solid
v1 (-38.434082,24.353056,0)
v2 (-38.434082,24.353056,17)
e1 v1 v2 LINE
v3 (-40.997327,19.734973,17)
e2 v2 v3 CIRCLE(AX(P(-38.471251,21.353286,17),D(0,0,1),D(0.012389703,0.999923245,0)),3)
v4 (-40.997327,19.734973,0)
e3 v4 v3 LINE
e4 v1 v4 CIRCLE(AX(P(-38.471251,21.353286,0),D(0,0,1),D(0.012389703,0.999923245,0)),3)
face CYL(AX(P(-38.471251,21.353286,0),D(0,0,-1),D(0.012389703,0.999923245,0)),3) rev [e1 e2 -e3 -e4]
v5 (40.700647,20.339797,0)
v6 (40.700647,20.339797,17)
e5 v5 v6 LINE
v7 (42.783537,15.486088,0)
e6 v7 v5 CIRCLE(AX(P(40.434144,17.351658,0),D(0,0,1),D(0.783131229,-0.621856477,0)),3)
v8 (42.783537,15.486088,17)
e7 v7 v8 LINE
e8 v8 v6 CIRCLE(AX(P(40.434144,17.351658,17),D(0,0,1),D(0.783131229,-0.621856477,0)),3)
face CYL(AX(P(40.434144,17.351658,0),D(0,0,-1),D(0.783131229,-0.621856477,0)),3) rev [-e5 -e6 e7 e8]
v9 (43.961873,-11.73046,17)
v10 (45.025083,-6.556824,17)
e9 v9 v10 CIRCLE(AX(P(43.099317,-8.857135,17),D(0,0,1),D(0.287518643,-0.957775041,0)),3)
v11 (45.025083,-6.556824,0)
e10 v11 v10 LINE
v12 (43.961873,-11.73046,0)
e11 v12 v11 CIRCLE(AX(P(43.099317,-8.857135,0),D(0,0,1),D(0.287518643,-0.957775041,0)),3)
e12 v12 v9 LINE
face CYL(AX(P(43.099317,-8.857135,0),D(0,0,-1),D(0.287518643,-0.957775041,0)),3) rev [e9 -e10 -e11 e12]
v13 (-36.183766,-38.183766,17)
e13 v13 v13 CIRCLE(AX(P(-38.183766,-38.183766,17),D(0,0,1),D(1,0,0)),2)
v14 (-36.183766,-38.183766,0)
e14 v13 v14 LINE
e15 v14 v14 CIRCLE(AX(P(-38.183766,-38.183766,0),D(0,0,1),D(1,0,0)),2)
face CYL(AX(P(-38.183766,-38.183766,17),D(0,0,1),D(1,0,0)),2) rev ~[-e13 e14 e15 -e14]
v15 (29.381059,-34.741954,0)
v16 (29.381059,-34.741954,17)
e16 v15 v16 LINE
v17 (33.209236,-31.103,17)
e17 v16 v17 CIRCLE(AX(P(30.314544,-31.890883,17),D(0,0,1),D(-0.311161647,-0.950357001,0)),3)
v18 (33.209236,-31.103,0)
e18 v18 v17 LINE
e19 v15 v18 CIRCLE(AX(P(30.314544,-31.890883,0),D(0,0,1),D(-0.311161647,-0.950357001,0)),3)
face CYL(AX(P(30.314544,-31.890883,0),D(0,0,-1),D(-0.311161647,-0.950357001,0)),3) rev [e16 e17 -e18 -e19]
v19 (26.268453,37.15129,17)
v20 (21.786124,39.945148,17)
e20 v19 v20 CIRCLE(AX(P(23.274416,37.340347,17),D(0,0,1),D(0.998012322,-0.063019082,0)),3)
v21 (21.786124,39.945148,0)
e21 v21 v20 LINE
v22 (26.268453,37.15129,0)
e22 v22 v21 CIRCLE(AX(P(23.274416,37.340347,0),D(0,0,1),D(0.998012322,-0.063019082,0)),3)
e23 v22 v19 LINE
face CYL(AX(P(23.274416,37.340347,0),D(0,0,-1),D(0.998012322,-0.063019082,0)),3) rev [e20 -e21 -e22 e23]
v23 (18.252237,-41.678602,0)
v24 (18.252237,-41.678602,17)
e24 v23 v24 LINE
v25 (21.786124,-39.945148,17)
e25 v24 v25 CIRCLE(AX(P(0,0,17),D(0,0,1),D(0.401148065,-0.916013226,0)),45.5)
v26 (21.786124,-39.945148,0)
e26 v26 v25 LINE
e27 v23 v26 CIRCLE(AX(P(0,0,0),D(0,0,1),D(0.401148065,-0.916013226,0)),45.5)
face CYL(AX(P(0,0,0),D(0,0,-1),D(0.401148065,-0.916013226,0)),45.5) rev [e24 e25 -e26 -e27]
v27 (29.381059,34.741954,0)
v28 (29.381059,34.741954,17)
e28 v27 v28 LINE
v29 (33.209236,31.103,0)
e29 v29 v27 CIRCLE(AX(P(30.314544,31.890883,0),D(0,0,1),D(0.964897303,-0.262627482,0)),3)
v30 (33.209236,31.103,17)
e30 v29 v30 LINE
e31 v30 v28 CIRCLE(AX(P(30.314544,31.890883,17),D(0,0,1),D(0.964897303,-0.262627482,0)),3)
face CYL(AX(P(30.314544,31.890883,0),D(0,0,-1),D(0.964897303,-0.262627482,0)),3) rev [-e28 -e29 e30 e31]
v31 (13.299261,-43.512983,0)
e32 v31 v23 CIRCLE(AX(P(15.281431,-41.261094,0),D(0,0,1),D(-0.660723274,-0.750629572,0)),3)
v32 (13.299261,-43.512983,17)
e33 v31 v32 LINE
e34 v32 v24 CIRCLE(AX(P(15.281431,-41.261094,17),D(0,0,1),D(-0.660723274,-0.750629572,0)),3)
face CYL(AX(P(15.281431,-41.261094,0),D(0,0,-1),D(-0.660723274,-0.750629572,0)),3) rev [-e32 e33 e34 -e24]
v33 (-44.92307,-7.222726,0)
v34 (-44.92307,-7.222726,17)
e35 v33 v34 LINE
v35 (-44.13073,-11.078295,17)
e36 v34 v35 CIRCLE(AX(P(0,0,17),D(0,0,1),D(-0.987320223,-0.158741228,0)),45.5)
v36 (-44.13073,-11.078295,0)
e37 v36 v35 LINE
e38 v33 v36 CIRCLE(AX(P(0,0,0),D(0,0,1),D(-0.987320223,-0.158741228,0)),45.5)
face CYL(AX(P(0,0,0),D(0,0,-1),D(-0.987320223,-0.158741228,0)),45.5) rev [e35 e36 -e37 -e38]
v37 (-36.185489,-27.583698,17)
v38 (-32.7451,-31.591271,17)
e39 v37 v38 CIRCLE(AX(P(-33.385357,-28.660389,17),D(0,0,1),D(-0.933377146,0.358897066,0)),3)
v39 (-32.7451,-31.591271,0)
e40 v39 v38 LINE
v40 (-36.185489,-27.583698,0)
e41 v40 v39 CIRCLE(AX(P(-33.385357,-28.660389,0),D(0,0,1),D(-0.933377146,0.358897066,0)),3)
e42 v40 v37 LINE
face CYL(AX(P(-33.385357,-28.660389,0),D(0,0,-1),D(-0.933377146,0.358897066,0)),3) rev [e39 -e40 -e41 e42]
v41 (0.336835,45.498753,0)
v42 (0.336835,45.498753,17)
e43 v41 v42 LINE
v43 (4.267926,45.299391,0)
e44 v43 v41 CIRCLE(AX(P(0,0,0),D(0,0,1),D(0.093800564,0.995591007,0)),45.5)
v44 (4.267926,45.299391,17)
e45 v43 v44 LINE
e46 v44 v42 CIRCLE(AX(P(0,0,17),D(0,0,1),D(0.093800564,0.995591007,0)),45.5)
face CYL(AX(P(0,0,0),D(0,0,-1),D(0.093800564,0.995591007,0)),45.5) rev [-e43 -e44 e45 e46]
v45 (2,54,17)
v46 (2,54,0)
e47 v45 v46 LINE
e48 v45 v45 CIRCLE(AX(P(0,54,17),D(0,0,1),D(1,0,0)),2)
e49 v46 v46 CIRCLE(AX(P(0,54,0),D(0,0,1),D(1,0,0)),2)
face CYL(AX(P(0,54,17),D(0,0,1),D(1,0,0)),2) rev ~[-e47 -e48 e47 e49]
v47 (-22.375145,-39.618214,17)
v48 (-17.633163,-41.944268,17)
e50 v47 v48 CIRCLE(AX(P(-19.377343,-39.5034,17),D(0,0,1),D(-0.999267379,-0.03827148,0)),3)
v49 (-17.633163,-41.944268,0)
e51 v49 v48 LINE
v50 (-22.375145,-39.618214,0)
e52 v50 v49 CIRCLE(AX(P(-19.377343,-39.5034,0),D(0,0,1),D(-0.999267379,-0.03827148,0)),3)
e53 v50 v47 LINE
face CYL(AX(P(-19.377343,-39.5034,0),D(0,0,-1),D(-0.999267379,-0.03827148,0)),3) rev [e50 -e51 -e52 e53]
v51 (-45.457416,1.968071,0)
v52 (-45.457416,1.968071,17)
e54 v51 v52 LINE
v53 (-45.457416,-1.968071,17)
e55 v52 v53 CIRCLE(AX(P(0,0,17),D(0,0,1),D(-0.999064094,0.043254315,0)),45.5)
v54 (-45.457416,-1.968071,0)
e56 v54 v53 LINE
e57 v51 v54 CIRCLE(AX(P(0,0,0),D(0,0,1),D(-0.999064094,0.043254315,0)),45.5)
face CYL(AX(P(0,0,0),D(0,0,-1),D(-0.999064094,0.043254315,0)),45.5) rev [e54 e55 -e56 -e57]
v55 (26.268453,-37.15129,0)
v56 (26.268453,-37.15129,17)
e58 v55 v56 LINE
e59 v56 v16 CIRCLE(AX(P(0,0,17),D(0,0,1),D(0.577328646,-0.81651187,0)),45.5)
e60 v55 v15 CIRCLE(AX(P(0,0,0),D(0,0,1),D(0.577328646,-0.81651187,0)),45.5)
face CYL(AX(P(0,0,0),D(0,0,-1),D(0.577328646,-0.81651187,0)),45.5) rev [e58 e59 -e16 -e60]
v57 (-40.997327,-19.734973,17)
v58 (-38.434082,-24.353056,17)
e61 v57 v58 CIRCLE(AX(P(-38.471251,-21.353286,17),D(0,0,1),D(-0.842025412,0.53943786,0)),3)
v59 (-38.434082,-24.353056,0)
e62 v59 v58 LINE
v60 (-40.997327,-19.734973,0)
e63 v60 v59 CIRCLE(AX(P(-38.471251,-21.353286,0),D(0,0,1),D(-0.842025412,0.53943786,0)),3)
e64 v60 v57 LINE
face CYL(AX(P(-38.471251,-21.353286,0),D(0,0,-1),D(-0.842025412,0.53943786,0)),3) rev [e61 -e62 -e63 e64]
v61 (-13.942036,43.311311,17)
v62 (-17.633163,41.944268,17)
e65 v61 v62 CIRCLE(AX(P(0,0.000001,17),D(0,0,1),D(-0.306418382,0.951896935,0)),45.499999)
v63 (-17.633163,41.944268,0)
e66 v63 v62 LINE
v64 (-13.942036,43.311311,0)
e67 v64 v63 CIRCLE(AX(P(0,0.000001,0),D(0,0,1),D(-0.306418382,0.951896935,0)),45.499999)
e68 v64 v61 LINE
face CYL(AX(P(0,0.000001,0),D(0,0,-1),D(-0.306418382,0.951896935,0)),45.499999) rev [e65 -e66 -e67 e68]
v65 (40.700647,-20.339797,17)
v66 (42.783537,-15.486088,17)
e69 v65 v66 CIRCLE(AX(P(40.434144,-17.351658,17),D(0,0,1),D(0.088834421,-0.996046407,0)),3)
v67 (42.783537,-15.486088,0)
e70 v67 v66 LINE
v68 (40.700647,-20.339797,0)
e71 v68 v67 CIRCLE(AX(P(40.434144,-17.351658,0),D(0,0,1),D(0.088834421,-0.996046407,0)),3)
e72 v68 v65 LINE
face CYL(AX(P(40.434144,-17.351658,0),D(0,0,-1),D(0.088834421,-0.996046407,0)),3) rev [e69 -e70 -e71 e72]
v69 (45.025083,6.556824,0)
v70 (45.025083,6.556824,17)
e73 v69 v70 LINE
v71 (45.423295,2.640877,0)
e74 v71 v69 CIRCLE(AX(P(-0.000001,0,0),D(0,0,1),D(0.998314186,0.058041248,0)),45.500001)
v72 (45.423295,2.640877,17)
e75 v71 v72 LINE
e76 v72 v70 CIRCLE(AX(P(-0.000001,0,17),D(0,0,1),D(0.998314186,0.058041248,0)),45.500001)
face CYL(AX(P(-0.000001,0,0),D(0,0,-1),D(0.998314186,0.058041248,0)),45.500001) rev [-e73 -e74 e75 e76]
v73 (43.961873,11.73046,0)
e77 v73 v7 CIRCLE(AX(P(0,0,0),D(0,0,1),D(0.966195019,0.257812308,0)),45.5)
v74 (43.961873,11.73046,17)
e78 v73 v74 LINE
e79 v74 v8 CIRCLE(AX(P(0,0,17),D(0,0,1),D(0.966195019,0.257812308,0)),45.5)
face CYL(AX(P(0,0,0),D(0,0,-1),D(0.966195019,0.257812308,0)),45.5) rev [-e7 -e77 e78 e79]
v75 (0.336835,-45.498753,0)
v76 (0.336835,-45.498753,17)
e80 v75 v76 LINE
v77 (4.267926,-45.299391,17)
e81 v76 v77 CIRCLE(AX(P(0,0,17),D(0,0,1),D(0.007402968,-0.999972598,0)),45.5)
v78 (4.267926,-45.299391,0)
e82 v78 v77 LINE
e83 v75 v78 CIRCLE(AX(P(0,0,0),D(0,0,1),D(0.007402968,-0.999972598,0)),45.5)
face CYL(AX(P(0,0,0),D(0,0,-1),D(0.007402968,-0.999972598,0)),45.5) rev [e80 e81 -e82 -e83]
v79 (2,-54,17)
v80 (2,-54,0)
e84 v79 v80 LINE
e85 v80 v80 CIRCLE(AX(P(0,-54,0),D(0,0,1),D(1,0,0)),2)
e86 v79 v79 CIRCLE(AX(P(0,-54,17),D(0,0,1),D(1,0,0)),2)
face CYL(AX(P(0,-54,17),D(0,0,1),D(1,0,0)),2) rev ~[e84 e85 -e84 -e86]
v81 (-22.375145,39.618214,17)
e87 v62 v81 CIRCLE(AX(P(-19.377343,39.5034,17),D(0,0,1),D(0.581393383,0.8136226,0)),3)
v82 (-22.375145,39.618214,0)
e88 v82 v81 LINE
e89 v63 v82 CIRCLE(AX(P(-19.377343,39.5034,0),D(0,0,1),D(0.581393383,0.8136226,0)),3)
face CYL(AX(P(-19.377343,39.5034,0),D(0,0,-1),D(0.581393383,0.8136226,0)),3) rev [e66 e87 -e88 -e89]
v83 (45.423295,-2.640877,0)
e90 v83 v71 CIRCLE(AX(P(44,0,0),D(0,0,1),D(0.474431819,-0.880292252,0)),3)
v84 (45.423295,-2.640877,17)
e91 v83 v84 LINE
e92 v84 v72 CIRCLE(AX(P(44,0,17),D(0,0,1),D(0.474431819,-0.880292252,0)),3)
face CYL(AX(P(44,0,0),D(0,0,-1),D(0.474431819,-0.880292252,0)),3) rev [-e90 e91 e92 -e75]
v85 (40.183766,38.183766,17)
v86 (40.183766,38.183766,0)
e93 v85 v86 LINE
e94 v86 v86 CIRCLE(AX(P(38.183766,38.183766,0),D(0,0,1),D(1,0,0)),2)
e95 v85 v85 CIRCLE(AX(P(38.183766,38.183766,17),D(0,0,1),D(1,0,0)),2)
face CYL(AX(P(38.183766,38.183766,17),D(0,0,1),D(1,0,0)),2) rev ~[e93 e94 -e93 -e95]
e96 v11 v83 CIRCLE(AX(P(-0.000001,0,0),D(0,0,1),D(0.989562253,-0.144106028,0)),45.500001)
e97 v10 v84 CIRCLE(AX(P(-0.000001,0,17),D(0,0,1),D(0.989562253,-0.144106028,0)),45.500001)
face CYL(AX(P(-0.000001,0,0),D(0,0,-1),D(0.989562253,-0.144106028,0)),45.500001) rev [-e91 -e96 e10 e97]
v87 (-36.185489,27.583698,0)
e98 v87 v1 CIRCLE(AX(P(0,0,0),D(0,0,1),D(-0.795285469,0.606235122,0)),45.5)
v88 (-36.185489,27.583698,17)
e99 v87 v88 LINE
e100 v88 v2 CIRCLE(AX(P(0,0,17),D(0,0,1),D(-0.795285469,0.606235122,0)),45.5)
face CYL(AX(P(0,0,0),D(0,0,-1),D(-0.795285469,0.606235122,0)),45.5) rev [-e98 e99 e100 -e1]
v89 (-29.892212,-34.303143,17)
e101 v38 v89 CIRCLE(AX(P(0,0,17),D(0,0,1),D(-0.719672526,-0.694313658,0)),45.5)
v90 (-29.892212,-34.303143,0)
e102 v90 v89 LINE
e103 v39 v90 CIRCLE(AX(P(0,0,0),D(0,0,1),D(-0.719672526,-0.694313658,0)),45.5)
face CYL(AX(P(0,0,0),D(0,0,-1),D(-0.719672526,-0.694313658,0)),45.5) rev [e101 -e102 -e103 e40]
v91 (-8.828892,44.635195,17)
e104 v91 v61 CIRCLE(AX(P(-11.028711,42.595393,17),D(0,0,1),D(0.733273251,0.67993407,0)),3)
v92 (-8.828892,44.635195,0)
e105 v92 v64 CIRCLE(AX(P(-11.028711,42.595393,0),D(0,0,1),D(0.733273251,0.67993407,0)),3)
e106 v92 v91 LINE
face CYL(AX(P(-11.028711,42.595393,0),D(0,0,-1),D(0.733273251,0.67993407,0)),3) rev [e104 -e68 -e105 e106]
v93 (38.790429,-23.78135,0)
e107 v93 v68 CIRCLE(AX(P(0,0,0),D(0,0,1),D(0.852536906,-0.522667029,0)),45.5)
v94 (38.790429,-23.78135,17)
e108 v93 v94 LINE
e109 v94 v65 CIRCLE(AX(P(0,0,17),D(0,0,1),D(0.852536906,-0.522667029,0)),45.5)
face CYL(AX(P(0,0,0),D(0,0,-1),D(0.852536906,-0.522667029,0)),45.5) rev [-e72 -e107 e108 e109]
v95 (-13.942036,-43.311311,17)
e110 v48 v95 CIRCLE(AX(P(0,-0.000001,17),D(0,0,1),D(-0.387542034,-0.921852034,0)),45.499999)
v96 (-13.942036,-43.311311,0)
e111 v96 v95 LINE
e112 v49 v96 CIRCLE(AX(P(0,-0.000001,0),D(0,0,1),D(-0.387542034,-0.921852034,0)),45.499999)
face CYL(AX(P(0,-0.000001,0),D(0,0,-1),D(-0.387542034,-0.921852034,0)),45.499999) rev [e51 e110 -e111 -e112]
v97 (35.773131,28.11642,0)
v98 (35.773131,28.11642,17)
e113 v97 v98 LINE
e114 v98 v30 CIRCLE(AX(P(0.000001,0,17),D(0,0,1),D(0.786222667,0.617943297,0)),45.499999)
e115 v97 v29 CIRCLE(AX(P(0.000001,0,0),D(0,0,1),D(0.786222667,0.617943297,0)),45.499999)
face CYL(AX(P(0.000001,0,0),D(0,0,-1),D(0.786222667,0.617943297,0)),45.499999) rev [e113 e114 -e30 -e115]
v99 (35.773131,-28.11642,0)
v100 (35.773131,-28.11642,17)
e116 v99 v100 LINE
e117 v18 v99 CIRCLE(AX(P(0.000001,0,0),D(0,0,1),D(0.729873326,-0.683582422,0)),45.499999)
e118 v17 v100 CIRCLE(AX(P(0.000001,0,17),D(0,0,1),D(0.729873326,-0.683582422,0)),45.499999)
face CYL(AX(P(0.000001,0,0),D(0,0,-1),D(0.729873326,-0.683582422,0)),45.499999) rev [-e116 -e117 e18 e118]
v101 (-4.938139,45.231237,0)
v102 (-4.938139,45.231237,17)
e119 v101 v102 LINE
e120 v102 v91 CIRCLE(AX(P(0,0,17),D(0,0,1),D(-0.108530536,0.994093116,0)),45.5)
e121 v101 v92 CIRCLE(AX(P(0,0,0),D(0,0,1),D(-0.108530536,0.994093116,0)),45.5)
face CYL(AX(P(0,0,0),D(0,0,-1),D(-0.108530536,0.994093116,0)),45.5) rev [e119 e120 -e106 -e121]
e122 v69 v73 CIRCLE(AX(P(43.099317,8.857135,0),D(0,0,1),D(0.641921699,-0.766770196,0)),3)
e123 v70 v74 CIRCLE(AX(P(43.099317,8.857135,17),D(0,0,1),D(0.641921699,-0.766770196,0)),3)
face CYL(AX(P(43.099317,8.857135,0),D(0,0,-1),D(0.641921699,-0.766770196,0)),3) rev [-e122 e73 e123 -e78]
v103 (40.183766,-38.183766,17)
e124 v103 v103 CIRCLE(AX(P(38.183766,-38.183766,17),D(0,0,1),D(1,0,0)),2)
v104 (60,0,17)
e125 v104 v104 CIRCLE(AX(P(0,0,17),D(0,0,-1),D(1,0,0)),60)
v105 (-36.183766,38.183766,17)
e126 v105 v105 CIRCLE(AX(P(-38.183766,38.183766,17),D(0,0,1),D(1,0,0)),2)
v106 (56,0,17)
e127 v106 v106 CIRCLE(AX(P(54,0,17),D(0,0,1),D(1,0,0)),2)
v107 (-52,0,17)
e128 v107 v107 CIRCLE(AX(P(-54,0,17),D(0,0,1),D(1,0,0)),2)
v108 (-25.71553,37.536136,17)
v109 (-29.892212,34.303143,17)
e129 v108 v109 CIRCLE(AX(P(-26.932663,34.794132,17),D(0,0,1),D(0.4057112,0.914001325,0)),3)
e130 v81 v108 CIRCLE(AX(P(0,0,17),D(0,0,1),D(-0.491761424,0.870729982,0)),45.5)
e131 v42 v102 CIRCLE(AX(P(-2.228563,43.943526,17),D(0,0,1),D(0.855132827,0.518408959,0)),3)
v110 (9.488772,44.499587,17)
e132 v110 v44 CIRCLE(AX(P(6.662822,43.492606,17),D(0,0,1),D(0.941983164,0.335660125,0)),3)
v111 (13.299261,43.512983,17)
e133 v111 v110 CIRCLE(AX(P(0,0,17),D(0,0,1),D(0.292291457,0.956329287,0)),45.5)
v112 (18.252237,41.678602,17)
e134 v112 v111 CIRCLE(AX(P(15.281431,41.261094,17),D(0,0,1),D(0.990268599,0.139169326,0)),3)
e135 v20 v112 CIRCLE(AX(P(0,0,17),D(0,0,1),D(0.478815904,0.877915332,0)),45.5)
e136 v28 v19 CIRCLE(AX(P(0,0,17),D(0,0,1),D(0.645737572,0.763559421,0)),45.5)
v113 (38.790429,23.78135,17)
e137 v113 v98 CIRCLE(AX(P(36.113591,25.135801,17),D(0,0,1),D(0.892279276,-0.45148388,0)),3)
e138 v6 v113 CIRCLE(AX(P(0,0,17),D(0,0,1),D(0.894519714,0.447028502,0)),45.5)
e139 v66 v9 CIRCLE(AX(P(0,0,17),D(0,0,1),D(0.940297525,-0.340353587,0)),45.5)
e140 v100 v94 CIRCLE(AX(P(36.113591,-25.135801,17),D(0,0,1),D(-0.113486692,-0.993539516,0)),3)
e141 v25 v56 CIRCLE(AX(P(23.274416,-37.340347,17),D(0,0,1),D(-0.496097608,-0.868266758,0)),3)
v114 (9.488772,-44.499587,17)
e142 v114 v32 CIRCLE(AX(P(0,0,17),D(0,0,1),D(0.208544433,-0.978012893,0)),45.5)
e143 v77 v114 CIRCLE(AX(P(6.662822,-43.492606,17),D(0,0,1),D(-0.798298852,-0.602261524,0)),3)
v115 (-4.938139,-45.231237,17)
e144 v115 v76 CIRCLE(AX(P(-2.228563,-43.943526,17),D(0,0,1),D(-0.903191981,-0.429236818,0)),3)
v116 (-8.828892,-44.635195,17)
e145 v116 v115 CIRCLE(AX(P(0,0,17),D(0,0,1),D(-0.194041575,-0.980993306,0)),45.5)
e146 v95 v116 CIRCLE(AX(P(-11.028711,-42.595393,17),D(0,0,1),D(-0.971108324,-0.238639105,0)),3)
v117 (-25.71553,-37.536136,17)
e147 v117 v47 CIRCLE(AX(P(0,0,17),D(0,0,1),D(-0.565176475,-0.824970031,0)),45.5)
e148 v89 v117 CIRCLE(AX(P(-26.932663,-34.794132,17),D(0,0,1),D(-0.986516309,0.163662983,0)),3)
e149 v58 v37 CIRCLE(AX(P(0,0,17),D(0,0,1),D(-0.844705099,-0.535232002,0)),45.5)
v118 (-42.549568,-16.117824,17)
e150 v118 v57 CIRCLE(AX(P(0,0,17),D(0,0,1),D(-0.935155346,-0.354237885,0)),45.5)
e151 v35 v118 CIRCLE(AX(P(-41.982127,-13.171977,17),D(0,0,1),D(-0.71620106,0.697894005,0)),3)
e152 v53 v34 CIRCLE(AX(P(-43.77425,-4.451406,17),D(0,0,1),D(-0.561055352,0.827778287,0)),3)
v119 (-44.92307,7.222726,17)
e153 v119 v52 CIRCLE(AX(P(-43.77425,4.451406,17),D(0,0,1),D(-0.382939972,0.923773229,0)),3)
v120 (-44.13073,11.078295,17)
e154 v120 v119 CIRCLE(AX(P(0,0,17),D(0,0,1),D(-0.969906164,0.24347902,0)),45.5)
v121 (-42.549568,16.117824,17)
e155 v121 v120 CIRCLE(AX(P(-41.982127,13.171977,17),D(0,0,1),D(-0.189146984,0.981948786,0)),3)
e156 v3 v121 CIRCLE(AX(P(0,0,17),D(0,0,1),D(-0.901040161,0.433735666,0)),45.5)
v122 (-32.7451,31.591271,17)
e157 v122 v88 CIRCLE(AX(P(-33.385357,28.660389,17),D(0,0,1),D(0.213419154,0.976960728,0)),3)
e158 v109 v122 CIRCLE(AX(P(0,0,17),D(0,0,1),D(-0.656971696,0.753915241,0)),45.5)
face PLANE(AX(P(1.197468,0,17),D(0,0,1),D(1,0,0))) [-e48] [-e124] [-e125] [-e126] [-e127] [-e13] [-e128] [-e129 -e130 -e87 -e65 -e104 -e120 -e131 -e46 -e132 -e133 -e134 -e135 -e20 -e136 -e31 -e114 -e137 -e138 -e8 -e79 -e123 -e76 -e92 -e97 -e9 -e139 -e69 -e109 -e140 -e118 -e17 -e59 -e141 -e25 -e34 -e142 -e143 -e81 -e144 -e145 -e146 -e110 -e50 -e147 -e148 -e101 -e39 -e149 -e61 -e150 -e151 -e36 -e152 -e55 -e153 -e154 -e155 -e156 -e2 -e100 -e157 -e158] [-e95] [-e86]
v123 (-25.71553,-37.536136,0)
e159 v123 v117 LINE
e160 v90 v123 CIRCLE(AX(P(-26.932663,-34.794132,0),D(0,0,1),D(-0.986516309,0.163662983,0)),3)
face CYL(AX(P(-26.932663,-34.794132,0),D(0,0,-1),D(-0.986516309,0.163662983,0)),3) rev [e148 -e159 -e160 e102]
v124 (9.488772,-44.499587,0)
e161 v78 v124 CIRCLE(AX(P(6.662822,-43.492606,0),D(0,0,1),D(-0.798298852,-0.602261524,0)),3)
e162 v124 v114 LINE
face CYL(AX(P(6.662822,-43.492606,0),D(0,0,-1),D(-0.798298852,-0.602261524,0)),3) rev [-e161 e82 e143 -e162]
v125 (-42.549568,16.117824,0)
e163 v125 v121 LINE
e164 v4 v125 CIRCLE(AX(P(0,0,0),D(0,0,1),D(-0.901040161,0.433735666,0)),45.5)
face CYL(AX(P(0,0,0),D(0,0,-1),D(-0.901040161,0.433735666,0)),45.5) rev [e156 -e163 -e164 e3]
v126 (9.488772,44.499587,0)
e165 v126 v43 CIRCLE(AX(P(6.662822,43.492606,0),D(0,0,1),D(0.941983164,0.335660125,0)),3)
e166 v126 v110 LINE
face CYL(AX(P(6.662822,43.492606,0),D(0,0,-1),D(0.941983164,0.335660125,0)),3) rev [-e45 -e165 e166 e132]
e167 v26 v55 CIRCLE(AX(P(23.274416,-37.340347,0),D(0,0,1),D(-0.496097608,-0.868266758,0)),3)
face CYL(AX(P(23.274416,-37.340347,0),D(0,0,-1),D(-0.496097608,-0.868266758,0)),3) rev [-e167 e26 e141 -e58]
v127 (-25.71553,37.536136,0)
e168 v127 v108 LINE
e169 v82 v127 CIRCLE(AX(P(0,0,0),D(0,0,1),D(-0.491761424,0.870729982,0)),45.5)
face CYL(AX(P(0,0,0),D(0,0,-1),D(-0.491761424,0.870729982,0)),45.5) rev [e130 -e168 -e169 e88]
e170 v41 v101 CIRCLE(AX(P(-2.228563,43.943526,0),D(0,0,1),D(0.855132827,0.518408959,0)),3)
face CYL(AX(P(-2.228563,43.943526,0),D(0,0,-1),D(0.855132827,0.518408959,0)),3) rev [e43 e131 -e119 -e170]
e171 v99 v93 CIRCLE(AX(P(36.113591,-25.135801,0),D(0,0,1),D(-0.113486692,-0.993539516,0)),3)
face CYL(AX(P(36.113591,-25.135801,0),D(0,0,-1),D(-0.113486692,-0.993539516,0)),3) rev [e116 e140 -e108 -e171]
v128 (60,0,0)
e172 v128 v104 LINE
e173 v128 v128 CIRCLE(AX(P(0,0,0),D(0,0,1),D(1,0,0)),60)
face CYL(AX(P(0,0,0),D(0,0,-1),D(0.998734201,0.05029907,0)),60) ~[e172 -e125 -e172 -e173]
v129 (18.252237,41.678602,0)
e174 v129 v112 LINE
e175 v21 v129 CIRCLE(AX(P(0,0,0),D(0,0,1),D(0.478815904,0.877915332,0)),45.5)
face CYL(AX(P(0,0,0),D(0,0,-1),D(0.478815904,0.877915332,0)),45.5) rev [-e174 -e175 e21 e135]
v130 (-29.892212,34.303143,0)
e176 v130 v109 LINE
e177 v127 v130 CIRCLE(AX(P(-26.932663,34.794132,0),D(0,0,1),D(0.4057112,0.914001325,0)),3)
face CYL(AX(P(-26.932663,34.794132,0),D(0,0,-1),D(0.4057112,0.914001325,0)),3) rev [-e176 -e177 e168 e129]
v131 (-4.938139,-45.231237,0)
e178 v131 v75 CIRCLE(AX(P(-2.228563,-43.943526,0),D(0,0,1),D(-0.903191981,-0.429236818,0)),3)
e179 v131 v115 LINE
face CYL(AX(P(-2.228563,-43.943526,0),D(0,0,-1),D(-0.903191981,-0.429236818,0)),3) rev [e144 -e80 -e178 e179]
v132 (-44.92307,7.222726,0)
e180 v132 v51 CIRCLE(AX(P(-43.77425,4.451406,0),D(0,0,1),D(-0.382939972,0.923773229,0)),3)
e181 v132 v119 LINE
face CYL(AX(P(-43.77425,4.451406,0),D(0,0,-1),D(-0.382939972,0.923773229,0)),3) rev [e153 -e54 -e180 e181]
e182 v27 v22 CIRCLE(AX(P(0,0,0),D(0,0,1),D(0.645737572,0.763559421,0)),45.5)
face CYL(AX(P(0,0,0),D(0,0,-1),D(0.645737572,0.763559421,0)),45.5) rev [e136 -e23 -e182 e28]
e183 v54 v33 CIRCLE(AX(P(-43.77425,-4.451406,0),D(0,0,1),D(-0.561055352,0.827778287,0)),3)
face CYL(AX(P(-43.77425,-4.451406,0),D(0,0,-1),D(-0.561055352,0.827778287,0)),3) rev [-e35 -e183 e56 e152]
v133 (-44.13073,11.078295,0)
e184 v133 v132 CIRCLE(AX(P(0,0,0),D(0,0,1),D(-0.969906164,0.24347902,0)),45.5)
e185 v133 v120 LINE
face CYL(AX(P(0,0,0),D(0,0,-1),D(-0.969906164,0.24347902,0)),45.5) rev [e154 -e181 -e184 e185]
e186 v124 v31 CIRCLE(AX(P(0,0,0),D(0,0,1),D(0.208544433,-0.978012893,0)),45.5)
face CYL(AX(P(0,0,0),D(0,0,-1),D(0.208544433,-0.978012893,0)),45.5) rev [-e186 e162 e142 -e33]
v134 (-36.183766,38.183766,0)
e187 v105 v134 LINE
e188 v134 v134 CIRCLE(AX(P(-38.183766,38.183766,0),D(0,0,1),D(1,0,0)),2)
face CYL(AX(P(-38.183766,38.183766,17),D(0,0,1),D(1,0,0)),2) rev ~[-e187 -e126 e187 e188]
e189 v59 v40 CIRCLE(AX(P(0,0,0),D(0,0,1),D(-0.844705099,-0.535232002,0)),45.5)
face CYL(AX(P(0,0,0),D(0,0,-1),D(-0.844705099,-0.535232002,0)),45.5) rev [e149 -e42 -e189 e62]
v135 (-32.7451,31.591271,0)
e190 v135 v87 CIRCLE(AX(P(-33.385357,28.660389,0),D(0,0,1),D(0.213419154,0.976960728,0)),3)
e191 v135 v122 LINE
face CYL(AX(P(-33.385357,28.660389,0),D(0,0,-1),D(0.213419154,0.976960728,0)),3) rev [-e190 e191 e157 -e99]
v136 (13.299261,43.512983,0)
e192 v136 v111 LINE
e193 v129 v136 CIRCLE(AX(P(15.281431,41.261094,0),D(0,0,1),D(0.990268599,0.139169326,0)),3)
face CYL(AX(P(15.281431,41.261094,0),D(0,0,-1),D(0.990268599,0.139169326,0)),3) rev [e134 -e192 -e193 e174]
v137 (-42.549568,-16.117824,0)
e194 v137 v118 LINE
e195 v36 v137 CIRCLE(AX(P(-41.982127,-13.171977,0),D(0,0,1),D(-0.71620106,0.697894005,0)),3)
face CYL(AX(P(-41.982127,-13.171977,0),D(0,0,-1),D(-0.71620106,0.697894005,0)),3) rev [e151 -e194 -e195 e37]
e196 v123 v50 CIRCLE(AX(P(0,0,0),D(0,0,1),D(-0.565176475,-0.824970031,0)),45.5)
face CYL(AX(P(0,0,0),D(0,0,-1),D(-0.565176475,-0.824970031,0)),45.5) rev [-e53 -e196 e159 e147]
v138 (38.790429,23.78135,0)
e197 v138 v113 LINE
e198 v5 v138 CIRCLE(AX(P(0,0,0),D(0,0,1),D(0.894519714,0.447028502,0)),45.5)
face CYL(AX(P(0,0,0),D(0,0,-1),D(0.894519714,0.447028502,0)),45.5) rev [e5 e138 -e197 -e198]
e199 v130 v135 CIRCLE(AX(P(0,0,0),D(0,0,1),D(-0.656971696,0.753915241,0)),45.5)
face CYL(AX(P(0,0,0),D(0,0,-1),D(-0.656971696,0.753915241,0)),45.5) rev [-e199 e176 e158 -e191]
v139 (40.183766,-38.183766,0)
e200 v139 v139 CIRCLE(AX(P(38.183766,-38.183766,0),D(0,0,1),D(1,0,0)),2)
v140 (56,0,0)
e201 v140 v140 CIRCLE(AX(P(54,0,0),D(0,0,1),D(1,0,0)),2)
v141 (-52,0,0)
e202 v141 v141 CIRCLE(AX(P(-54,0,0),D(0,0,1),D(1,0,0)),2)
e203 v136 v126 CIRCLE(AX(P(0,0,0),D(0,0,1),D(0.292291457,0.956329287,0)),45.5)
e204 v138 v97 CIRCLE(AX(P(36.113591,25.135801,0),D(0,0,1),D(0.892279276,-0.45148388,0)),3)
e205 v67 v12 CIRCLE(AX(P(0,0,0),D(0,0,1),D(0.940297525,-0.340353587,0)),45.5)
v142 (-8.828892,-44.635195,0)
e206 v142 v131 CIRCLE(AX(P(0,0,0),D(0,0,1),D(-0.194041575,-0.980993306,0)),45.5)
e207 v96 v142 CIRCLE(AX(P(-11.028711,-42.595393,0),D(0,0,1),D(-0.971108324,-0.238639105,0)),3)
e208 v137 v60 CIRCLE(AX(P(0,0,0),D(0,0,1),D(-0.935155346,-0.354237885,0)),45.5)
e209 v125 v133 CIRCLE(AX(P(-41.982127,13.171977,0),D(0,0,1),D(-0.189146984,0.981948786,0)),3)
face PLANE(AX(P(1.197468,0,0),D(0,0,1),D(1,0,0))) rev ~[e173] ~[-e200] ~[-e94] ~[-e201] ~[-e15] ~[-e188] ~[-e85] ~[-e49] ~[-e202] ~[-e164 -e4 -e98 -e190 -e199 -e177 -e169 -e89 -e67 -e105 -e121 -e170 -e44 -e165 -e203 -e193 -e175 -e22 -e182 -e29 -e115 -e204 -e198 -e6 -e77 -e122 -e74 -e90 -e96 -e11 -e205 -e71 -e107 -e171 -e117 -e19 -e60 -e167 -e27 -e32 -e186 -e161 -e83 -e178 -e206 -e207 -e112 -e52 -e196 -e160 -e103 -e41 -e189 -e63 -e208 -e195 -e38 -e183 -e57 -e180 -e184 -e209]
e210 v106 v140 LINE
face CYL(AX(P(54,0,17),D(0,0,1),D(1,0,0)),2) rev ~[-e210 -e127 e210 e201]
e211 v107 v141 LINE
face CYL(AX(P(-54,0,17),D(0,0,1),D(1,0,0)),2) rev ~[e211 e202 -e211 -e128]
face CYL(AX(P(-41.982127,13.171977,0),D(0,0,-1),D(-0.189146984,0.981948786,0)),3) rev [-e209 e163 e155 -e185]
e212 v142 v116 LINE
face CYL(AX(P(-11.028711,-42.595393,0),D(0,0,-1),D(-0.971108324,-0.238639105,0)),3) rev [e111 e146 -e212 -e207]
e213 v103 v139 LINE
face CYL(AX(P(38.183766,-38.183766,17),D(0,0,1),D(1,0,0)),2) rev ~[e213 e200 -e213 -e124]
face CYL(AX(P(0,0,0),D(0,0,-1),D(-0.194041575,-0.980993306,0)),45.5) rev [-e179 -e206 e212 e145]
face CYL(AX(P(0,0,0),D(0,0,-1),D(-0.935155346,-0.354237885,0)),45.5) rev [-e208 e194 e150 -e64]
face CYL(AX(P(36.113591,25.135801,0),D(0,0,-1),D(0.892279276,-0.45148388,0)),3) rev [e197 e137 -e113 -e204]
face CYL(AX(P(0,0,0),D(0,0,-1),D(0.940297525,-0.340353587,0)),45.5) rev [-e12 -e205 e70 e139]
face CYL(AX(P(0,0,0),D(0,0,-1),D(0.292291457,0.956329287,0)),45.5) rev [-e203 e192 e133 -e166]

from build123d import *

# Parameters (mm, degrees)
BOSS_EXTRUDE1_DEPTH = 17
SKETCH2_R           = 2
CUT_EXTRUDE1_DEPTH  = 89.658793805
CUT_EXTRUDE2_START  = -30
SKETCH3_R           = 75.542453457
SKETCH3_R_2         = 60
CUT_EXTRUDE2_DEPTH  = 30


with BuildPart() as part:
    # Sketch1 → Boss-Extrude1 (new body)
    with BuildSketch(Plane.XY):
        with BuildLine():
            ThreePointArc((59.924052039, 3.017944215), (-60, 0), (59.924052039, -3.017944215))
            ThreePointArc((59.924052039, -3.017944215), (63.018899696, 0), (59.924052039, 3.017944215))
        make_face()
        with BuildLine():
            ThreePointArc((45.423295455, -2.640876758), (47, 0), (45.423295455, 2.640876758))
            ThreePointArc((45.423295455, 2.640876758), (45.266554214, 4.60315865), (45.025082511, 6.556824297))
            ThreePointArc((45.025082511, 6.556824297), (46.037907239, 9.461030444), (43.961873345, 11.730460008))
            ThreePointArc((43.961873345, 11.730460008), (43.413336166, 13.621022095), (42.783537399, 15.486088195))
            ThreePointArc((42.783537399, 15.486088195), (43.191017146, 18.53472519), (40.700646975, 20.339796847))
            ThreePointArc((40.700646975, 20.339796847), (39.782771035, 22.081239295), (38.79042924, 23.781349823))
            ThreePointArc((38.79042924, 23.781349823), (38.575881737, 26.849606109), (35.773131337, 28.116420013))
            ThreePointArc((35.773131337, 28.116420013), (34.523494583, 29.637447964), (33.209236349, 31.103000194))
            ThreePointArc((33.209236349, 31.103000194), (32.381445197, 34.065261), (29.381059498, 34.741953641))
            ThreePointArc((29.381059498, 34.741953641), (27.850822206, 35.980296031), (26.268453421, 37.151290083))
            ThreePointArc((26.268453421, 37.151290083), (24.861308485, 39.886280102), (21.786123631, 39.945147604))
            ThreePointArc((21.786123631, 39.945147604), (20.037933896, 40.85010655), (18.252236923, 41.678601792))
            ThreePointArc((18.252236923, 41.678601792), (16.323346884, 44.074350211), (13.299261303, 43.512982532))
            ThreePointArc((13.299261303, 43.512982532), (11.404690218, 44.047508908), (9.488771701, 44.499586645))
            ThreePointArc((9.488771701, 44.499586645), (7.117105543, 46.458011243), (4.267925654, 45.299390841))
            ThreePointArc((4.267925654, 45.299390841), (2.304537182, 45.441601076), (0.336835051, 45.498753193))
            ThreePointArc((0.336835051, 45.498753193), (-2.380510935, 46.939675837), (-4.938139372, 45.231236768))
            ThreePointArc((-4.938139372, 45.231236768), (-6.889963876, 44.975308757), (-8.828891666, 44.63519544))
            ThreePointArc((-8.828891666, 44.63519544), (-11.780669016, 45.499624587), (-13.942036392, 43.311310546))
            ThreePointArc((-13.942036392, 43.311310546), (-15.802389004, 42.667722013), (-17.633162521, 41.94426754))
            ThreePointArc((-17.633162521, 41.94426754), (-20.698525123, 42.19681336), (-22.375144804, 39.618214182))
            ThreePointArc((-22.375144804, 39.618214182), (-24.06786247, 38.613313716), (-25.715529631, 37.5361364))
            ThreePointArc((-25.715529631, 37.5361364), (-28.76898118, 37.166459636), (-29.892212159, 34.303143475))
            ThreePointArc((-29.892212159, 34.303143475), (-31.347994818, 32.978071819), (-32.745099935, 31.591271425))
            ThreePointArc((-32.745099935, 31.591271425), (-35.661631767, 30.614506688), (-36.185488836, 27.583698043))
            ThreePointArc((-36.185488836, 27.583698043), (-37.344736575, 25.992703787), (-38.434082002, 24.353056085))
            ThreePointArc((-38.434082002, 24.353056085), (-41.094290959, 22.809192239), (-40.997327348, 19.734972772))
            ThreePointArc((-40.997327348, 19.734972772), (-41.812580429, 17.943191408), (-42.549568235, 16.117823769))
            ThreePointArc((-42.549568235, 16.117823769), (-44.844545051, 14.07006678), (-44.130730462, 11.078295397))
            ThreePointArc((-44.130730462, 11.078295397), (-44.568612327, 9.159082664), (-44.923070145, 7.222725853))
            ThreePointArc((-44.923070145, 7.222725853), (-46.758858199, 4.754911133), (-45.457416285, 1.968071307))
            ThreePointArc((-45.457416285, 1.968071307), (-45.5, 0), (-45.457416285, -1.968071307))
            ThreePointArc((-45.457416285, -1.968071307), (-46.758858199, -4.754911133), (-44.923070145, -7.222725853))
            ThreePointArc((-44.923070145, -7.222725853), (-44.568612327, -9.159082664), (-44.130730462, -11.078295397))
            ThreePointArc((-44.130730462, -11.078295397), (-44.844545051, -14.07006678), (-42.549568235, -16.117823769))
            ThreePointArc((-42.549568235, -16.117823769), (-41.812580429, -17.943191408), (-40.997327348, -19.734972772))
            ThreePointArc((-40.997327348, -19.734972772), (-41.094290959, -22.809192239), (-38.434082002, -24.353056085))
            ThreePointArc((-38.434082002, -24.353056085), (-37.344736575, -25.992703787), (-36.185488836, -27.583698043))
            ThreePointArc((-36.185488836, -27.583698043), (-35.661631767, -30.614506688), (-32.745099935, -31.591271425))
            ThreePointArc((-32.745099935, -31.591271425), (-31.347994818, -32.978071819), (-29.892212159, -34.303143475))
            ThreePointArc((-29.892212159, -34.303143475), (-28.76898118, -37.166459636), (-25.715529631, -37.5361364))
            ThreePointArc((-25.715529631, -37.5361364), (-24.06786247, -38.613313716), (-22.375144804, -39.618214182))
            ThreePointArc((-22.375144804, -39.618214182), (-20.698525123, -42.19681336), (-17.633162521, -41.94426754))
            ThreePointArc((-17.633162521, -41.94426754), (-15.802389004, -42.667722013), (-13.942036392, -43.311310546))
            ThreePointArc((-13.942036392, -43.311310546), (-11.780669016, -45.499624587), (-8.828891666, -44.63519544))
            ThreePointArc((-8.828891666, -44.63519544), (-6.889963876, -44.975308757), (-4.938139372, -45.231236768))
            ThreePointArc((-4.938139372, -45.231236768), (-2.380510935, -46.939675837), (0.336835051, -45.498753193))
            ThreePointArc((0.336835051, -45.498753193), (2.304537182, -45.441601076), (4.267925654, -45.299390841))
            ThreePointArc((4.267925654, -45.299390841), (7.117105543, -46.458011243), (9.488771701, -44.499586645))
            ThreePointArc((9.488771701, -44.499586645), (11.404690218, -44.047508908), (13.299261303, -43.512982532))
            ThreePointArc((13.299261303, -43.512982532), (16.323346884, -44.074350211), (18.252236923, -41.678601792))
            ThreePointArc((18.252236923, -41.678601792), (20.037933896, -40.85010655), (21.786123631, -39.945147604))
            ThreePointArc((21.786123631, -39.945147604), (24.861308485, -39.886280102), (26.268453421, -37.151290083))
            ThreePointArc((26.268453421, -37.151290083), (27.850822206, -35.980296031), (29.381059498, -34.741953641))
            ThreePointArc((29.381059498, -34.741953641), (32.381445197, -34.065261), (33.209236349, -31.103000194))
            ThreePointArc((33.209236349, -31.103000194), (34.523494583, -29.637447964), (35.773131337, -28.116420013))
            ThreePointArc((35.773131337, -28.116420013), (38.575881737, -26.849606109), (38.79042924, -23.781349823))
            ThreePointArc((38.79042924, -23.781349823), (39.782771035, -22.081239295), (40.700646975, -20.339796847))
            ThreePointArc((40.700646975, -20.339796847), (43.191017146, -18.53472519), (42.783537399, -15.486088195))
            ThreePointArc((42.783537399, -15.486088195), (43.413336166, -13.621022095), (43.961873345, -11.730460008))
            ThreePointArc((43.961873345, -11.730460008), (46.037907239, -9.461030444), (45.025082511, -6.556824297))
            ThreePointArc((45.025082511, -6.556824297), (45.266554214, -4.60315865), (45.423295455, -2.640876758))
        make_face(mode=Mode.SUBTRACT)
    extrude(amount=BOSS_EXTRUDE1_DEPTH)

    # Sketch2 → Cut-Extrude1 (cut, through all)
    with BuildSketch(Plane.XY.offset(17)):
        with Locations((0, 54)):
            Circle(SKETCH2_R)
        with Locations((38.183766184, 38.183766184)):
            Circle(SKETCH2_R)
        with Locations((54, 0)):
            Circle(SKETCH2_R)
        with Locations((38.183766184, -38.183766184)):
            Circle(SKETCH2_R)
        with Locations((0, -54)):
            Circle(SKETCH2_R)
        with Locations((-38.183766184, -38.183766184)):
            Circle(SKETCH2_R)
        with Locations((-54, 0)):
            Circle(SKETCH2_R)
        with Locations((-38.183766184, 38.183766184)):
            Circle(SKETCH2_R)
    extrude(amount=-CUT_EXTRUDE1_DEPTH, mode=Mode.SUBTRACT)

    # Sketch3 → Cut-Extrude2 (cut)
    with BuildSketch(Plane.XY.offset(17).offset(CUT_EXTRUDE2_START)):
        Circle(SKETCH3_R)
        Circle(SKETCH3_R_2, mode=Mode.SUBTRACT)
    extrude(amount=CUT_EXTRUDE2_DEPTH, mode=Mode.SUBTRACT)


solid = part.part
